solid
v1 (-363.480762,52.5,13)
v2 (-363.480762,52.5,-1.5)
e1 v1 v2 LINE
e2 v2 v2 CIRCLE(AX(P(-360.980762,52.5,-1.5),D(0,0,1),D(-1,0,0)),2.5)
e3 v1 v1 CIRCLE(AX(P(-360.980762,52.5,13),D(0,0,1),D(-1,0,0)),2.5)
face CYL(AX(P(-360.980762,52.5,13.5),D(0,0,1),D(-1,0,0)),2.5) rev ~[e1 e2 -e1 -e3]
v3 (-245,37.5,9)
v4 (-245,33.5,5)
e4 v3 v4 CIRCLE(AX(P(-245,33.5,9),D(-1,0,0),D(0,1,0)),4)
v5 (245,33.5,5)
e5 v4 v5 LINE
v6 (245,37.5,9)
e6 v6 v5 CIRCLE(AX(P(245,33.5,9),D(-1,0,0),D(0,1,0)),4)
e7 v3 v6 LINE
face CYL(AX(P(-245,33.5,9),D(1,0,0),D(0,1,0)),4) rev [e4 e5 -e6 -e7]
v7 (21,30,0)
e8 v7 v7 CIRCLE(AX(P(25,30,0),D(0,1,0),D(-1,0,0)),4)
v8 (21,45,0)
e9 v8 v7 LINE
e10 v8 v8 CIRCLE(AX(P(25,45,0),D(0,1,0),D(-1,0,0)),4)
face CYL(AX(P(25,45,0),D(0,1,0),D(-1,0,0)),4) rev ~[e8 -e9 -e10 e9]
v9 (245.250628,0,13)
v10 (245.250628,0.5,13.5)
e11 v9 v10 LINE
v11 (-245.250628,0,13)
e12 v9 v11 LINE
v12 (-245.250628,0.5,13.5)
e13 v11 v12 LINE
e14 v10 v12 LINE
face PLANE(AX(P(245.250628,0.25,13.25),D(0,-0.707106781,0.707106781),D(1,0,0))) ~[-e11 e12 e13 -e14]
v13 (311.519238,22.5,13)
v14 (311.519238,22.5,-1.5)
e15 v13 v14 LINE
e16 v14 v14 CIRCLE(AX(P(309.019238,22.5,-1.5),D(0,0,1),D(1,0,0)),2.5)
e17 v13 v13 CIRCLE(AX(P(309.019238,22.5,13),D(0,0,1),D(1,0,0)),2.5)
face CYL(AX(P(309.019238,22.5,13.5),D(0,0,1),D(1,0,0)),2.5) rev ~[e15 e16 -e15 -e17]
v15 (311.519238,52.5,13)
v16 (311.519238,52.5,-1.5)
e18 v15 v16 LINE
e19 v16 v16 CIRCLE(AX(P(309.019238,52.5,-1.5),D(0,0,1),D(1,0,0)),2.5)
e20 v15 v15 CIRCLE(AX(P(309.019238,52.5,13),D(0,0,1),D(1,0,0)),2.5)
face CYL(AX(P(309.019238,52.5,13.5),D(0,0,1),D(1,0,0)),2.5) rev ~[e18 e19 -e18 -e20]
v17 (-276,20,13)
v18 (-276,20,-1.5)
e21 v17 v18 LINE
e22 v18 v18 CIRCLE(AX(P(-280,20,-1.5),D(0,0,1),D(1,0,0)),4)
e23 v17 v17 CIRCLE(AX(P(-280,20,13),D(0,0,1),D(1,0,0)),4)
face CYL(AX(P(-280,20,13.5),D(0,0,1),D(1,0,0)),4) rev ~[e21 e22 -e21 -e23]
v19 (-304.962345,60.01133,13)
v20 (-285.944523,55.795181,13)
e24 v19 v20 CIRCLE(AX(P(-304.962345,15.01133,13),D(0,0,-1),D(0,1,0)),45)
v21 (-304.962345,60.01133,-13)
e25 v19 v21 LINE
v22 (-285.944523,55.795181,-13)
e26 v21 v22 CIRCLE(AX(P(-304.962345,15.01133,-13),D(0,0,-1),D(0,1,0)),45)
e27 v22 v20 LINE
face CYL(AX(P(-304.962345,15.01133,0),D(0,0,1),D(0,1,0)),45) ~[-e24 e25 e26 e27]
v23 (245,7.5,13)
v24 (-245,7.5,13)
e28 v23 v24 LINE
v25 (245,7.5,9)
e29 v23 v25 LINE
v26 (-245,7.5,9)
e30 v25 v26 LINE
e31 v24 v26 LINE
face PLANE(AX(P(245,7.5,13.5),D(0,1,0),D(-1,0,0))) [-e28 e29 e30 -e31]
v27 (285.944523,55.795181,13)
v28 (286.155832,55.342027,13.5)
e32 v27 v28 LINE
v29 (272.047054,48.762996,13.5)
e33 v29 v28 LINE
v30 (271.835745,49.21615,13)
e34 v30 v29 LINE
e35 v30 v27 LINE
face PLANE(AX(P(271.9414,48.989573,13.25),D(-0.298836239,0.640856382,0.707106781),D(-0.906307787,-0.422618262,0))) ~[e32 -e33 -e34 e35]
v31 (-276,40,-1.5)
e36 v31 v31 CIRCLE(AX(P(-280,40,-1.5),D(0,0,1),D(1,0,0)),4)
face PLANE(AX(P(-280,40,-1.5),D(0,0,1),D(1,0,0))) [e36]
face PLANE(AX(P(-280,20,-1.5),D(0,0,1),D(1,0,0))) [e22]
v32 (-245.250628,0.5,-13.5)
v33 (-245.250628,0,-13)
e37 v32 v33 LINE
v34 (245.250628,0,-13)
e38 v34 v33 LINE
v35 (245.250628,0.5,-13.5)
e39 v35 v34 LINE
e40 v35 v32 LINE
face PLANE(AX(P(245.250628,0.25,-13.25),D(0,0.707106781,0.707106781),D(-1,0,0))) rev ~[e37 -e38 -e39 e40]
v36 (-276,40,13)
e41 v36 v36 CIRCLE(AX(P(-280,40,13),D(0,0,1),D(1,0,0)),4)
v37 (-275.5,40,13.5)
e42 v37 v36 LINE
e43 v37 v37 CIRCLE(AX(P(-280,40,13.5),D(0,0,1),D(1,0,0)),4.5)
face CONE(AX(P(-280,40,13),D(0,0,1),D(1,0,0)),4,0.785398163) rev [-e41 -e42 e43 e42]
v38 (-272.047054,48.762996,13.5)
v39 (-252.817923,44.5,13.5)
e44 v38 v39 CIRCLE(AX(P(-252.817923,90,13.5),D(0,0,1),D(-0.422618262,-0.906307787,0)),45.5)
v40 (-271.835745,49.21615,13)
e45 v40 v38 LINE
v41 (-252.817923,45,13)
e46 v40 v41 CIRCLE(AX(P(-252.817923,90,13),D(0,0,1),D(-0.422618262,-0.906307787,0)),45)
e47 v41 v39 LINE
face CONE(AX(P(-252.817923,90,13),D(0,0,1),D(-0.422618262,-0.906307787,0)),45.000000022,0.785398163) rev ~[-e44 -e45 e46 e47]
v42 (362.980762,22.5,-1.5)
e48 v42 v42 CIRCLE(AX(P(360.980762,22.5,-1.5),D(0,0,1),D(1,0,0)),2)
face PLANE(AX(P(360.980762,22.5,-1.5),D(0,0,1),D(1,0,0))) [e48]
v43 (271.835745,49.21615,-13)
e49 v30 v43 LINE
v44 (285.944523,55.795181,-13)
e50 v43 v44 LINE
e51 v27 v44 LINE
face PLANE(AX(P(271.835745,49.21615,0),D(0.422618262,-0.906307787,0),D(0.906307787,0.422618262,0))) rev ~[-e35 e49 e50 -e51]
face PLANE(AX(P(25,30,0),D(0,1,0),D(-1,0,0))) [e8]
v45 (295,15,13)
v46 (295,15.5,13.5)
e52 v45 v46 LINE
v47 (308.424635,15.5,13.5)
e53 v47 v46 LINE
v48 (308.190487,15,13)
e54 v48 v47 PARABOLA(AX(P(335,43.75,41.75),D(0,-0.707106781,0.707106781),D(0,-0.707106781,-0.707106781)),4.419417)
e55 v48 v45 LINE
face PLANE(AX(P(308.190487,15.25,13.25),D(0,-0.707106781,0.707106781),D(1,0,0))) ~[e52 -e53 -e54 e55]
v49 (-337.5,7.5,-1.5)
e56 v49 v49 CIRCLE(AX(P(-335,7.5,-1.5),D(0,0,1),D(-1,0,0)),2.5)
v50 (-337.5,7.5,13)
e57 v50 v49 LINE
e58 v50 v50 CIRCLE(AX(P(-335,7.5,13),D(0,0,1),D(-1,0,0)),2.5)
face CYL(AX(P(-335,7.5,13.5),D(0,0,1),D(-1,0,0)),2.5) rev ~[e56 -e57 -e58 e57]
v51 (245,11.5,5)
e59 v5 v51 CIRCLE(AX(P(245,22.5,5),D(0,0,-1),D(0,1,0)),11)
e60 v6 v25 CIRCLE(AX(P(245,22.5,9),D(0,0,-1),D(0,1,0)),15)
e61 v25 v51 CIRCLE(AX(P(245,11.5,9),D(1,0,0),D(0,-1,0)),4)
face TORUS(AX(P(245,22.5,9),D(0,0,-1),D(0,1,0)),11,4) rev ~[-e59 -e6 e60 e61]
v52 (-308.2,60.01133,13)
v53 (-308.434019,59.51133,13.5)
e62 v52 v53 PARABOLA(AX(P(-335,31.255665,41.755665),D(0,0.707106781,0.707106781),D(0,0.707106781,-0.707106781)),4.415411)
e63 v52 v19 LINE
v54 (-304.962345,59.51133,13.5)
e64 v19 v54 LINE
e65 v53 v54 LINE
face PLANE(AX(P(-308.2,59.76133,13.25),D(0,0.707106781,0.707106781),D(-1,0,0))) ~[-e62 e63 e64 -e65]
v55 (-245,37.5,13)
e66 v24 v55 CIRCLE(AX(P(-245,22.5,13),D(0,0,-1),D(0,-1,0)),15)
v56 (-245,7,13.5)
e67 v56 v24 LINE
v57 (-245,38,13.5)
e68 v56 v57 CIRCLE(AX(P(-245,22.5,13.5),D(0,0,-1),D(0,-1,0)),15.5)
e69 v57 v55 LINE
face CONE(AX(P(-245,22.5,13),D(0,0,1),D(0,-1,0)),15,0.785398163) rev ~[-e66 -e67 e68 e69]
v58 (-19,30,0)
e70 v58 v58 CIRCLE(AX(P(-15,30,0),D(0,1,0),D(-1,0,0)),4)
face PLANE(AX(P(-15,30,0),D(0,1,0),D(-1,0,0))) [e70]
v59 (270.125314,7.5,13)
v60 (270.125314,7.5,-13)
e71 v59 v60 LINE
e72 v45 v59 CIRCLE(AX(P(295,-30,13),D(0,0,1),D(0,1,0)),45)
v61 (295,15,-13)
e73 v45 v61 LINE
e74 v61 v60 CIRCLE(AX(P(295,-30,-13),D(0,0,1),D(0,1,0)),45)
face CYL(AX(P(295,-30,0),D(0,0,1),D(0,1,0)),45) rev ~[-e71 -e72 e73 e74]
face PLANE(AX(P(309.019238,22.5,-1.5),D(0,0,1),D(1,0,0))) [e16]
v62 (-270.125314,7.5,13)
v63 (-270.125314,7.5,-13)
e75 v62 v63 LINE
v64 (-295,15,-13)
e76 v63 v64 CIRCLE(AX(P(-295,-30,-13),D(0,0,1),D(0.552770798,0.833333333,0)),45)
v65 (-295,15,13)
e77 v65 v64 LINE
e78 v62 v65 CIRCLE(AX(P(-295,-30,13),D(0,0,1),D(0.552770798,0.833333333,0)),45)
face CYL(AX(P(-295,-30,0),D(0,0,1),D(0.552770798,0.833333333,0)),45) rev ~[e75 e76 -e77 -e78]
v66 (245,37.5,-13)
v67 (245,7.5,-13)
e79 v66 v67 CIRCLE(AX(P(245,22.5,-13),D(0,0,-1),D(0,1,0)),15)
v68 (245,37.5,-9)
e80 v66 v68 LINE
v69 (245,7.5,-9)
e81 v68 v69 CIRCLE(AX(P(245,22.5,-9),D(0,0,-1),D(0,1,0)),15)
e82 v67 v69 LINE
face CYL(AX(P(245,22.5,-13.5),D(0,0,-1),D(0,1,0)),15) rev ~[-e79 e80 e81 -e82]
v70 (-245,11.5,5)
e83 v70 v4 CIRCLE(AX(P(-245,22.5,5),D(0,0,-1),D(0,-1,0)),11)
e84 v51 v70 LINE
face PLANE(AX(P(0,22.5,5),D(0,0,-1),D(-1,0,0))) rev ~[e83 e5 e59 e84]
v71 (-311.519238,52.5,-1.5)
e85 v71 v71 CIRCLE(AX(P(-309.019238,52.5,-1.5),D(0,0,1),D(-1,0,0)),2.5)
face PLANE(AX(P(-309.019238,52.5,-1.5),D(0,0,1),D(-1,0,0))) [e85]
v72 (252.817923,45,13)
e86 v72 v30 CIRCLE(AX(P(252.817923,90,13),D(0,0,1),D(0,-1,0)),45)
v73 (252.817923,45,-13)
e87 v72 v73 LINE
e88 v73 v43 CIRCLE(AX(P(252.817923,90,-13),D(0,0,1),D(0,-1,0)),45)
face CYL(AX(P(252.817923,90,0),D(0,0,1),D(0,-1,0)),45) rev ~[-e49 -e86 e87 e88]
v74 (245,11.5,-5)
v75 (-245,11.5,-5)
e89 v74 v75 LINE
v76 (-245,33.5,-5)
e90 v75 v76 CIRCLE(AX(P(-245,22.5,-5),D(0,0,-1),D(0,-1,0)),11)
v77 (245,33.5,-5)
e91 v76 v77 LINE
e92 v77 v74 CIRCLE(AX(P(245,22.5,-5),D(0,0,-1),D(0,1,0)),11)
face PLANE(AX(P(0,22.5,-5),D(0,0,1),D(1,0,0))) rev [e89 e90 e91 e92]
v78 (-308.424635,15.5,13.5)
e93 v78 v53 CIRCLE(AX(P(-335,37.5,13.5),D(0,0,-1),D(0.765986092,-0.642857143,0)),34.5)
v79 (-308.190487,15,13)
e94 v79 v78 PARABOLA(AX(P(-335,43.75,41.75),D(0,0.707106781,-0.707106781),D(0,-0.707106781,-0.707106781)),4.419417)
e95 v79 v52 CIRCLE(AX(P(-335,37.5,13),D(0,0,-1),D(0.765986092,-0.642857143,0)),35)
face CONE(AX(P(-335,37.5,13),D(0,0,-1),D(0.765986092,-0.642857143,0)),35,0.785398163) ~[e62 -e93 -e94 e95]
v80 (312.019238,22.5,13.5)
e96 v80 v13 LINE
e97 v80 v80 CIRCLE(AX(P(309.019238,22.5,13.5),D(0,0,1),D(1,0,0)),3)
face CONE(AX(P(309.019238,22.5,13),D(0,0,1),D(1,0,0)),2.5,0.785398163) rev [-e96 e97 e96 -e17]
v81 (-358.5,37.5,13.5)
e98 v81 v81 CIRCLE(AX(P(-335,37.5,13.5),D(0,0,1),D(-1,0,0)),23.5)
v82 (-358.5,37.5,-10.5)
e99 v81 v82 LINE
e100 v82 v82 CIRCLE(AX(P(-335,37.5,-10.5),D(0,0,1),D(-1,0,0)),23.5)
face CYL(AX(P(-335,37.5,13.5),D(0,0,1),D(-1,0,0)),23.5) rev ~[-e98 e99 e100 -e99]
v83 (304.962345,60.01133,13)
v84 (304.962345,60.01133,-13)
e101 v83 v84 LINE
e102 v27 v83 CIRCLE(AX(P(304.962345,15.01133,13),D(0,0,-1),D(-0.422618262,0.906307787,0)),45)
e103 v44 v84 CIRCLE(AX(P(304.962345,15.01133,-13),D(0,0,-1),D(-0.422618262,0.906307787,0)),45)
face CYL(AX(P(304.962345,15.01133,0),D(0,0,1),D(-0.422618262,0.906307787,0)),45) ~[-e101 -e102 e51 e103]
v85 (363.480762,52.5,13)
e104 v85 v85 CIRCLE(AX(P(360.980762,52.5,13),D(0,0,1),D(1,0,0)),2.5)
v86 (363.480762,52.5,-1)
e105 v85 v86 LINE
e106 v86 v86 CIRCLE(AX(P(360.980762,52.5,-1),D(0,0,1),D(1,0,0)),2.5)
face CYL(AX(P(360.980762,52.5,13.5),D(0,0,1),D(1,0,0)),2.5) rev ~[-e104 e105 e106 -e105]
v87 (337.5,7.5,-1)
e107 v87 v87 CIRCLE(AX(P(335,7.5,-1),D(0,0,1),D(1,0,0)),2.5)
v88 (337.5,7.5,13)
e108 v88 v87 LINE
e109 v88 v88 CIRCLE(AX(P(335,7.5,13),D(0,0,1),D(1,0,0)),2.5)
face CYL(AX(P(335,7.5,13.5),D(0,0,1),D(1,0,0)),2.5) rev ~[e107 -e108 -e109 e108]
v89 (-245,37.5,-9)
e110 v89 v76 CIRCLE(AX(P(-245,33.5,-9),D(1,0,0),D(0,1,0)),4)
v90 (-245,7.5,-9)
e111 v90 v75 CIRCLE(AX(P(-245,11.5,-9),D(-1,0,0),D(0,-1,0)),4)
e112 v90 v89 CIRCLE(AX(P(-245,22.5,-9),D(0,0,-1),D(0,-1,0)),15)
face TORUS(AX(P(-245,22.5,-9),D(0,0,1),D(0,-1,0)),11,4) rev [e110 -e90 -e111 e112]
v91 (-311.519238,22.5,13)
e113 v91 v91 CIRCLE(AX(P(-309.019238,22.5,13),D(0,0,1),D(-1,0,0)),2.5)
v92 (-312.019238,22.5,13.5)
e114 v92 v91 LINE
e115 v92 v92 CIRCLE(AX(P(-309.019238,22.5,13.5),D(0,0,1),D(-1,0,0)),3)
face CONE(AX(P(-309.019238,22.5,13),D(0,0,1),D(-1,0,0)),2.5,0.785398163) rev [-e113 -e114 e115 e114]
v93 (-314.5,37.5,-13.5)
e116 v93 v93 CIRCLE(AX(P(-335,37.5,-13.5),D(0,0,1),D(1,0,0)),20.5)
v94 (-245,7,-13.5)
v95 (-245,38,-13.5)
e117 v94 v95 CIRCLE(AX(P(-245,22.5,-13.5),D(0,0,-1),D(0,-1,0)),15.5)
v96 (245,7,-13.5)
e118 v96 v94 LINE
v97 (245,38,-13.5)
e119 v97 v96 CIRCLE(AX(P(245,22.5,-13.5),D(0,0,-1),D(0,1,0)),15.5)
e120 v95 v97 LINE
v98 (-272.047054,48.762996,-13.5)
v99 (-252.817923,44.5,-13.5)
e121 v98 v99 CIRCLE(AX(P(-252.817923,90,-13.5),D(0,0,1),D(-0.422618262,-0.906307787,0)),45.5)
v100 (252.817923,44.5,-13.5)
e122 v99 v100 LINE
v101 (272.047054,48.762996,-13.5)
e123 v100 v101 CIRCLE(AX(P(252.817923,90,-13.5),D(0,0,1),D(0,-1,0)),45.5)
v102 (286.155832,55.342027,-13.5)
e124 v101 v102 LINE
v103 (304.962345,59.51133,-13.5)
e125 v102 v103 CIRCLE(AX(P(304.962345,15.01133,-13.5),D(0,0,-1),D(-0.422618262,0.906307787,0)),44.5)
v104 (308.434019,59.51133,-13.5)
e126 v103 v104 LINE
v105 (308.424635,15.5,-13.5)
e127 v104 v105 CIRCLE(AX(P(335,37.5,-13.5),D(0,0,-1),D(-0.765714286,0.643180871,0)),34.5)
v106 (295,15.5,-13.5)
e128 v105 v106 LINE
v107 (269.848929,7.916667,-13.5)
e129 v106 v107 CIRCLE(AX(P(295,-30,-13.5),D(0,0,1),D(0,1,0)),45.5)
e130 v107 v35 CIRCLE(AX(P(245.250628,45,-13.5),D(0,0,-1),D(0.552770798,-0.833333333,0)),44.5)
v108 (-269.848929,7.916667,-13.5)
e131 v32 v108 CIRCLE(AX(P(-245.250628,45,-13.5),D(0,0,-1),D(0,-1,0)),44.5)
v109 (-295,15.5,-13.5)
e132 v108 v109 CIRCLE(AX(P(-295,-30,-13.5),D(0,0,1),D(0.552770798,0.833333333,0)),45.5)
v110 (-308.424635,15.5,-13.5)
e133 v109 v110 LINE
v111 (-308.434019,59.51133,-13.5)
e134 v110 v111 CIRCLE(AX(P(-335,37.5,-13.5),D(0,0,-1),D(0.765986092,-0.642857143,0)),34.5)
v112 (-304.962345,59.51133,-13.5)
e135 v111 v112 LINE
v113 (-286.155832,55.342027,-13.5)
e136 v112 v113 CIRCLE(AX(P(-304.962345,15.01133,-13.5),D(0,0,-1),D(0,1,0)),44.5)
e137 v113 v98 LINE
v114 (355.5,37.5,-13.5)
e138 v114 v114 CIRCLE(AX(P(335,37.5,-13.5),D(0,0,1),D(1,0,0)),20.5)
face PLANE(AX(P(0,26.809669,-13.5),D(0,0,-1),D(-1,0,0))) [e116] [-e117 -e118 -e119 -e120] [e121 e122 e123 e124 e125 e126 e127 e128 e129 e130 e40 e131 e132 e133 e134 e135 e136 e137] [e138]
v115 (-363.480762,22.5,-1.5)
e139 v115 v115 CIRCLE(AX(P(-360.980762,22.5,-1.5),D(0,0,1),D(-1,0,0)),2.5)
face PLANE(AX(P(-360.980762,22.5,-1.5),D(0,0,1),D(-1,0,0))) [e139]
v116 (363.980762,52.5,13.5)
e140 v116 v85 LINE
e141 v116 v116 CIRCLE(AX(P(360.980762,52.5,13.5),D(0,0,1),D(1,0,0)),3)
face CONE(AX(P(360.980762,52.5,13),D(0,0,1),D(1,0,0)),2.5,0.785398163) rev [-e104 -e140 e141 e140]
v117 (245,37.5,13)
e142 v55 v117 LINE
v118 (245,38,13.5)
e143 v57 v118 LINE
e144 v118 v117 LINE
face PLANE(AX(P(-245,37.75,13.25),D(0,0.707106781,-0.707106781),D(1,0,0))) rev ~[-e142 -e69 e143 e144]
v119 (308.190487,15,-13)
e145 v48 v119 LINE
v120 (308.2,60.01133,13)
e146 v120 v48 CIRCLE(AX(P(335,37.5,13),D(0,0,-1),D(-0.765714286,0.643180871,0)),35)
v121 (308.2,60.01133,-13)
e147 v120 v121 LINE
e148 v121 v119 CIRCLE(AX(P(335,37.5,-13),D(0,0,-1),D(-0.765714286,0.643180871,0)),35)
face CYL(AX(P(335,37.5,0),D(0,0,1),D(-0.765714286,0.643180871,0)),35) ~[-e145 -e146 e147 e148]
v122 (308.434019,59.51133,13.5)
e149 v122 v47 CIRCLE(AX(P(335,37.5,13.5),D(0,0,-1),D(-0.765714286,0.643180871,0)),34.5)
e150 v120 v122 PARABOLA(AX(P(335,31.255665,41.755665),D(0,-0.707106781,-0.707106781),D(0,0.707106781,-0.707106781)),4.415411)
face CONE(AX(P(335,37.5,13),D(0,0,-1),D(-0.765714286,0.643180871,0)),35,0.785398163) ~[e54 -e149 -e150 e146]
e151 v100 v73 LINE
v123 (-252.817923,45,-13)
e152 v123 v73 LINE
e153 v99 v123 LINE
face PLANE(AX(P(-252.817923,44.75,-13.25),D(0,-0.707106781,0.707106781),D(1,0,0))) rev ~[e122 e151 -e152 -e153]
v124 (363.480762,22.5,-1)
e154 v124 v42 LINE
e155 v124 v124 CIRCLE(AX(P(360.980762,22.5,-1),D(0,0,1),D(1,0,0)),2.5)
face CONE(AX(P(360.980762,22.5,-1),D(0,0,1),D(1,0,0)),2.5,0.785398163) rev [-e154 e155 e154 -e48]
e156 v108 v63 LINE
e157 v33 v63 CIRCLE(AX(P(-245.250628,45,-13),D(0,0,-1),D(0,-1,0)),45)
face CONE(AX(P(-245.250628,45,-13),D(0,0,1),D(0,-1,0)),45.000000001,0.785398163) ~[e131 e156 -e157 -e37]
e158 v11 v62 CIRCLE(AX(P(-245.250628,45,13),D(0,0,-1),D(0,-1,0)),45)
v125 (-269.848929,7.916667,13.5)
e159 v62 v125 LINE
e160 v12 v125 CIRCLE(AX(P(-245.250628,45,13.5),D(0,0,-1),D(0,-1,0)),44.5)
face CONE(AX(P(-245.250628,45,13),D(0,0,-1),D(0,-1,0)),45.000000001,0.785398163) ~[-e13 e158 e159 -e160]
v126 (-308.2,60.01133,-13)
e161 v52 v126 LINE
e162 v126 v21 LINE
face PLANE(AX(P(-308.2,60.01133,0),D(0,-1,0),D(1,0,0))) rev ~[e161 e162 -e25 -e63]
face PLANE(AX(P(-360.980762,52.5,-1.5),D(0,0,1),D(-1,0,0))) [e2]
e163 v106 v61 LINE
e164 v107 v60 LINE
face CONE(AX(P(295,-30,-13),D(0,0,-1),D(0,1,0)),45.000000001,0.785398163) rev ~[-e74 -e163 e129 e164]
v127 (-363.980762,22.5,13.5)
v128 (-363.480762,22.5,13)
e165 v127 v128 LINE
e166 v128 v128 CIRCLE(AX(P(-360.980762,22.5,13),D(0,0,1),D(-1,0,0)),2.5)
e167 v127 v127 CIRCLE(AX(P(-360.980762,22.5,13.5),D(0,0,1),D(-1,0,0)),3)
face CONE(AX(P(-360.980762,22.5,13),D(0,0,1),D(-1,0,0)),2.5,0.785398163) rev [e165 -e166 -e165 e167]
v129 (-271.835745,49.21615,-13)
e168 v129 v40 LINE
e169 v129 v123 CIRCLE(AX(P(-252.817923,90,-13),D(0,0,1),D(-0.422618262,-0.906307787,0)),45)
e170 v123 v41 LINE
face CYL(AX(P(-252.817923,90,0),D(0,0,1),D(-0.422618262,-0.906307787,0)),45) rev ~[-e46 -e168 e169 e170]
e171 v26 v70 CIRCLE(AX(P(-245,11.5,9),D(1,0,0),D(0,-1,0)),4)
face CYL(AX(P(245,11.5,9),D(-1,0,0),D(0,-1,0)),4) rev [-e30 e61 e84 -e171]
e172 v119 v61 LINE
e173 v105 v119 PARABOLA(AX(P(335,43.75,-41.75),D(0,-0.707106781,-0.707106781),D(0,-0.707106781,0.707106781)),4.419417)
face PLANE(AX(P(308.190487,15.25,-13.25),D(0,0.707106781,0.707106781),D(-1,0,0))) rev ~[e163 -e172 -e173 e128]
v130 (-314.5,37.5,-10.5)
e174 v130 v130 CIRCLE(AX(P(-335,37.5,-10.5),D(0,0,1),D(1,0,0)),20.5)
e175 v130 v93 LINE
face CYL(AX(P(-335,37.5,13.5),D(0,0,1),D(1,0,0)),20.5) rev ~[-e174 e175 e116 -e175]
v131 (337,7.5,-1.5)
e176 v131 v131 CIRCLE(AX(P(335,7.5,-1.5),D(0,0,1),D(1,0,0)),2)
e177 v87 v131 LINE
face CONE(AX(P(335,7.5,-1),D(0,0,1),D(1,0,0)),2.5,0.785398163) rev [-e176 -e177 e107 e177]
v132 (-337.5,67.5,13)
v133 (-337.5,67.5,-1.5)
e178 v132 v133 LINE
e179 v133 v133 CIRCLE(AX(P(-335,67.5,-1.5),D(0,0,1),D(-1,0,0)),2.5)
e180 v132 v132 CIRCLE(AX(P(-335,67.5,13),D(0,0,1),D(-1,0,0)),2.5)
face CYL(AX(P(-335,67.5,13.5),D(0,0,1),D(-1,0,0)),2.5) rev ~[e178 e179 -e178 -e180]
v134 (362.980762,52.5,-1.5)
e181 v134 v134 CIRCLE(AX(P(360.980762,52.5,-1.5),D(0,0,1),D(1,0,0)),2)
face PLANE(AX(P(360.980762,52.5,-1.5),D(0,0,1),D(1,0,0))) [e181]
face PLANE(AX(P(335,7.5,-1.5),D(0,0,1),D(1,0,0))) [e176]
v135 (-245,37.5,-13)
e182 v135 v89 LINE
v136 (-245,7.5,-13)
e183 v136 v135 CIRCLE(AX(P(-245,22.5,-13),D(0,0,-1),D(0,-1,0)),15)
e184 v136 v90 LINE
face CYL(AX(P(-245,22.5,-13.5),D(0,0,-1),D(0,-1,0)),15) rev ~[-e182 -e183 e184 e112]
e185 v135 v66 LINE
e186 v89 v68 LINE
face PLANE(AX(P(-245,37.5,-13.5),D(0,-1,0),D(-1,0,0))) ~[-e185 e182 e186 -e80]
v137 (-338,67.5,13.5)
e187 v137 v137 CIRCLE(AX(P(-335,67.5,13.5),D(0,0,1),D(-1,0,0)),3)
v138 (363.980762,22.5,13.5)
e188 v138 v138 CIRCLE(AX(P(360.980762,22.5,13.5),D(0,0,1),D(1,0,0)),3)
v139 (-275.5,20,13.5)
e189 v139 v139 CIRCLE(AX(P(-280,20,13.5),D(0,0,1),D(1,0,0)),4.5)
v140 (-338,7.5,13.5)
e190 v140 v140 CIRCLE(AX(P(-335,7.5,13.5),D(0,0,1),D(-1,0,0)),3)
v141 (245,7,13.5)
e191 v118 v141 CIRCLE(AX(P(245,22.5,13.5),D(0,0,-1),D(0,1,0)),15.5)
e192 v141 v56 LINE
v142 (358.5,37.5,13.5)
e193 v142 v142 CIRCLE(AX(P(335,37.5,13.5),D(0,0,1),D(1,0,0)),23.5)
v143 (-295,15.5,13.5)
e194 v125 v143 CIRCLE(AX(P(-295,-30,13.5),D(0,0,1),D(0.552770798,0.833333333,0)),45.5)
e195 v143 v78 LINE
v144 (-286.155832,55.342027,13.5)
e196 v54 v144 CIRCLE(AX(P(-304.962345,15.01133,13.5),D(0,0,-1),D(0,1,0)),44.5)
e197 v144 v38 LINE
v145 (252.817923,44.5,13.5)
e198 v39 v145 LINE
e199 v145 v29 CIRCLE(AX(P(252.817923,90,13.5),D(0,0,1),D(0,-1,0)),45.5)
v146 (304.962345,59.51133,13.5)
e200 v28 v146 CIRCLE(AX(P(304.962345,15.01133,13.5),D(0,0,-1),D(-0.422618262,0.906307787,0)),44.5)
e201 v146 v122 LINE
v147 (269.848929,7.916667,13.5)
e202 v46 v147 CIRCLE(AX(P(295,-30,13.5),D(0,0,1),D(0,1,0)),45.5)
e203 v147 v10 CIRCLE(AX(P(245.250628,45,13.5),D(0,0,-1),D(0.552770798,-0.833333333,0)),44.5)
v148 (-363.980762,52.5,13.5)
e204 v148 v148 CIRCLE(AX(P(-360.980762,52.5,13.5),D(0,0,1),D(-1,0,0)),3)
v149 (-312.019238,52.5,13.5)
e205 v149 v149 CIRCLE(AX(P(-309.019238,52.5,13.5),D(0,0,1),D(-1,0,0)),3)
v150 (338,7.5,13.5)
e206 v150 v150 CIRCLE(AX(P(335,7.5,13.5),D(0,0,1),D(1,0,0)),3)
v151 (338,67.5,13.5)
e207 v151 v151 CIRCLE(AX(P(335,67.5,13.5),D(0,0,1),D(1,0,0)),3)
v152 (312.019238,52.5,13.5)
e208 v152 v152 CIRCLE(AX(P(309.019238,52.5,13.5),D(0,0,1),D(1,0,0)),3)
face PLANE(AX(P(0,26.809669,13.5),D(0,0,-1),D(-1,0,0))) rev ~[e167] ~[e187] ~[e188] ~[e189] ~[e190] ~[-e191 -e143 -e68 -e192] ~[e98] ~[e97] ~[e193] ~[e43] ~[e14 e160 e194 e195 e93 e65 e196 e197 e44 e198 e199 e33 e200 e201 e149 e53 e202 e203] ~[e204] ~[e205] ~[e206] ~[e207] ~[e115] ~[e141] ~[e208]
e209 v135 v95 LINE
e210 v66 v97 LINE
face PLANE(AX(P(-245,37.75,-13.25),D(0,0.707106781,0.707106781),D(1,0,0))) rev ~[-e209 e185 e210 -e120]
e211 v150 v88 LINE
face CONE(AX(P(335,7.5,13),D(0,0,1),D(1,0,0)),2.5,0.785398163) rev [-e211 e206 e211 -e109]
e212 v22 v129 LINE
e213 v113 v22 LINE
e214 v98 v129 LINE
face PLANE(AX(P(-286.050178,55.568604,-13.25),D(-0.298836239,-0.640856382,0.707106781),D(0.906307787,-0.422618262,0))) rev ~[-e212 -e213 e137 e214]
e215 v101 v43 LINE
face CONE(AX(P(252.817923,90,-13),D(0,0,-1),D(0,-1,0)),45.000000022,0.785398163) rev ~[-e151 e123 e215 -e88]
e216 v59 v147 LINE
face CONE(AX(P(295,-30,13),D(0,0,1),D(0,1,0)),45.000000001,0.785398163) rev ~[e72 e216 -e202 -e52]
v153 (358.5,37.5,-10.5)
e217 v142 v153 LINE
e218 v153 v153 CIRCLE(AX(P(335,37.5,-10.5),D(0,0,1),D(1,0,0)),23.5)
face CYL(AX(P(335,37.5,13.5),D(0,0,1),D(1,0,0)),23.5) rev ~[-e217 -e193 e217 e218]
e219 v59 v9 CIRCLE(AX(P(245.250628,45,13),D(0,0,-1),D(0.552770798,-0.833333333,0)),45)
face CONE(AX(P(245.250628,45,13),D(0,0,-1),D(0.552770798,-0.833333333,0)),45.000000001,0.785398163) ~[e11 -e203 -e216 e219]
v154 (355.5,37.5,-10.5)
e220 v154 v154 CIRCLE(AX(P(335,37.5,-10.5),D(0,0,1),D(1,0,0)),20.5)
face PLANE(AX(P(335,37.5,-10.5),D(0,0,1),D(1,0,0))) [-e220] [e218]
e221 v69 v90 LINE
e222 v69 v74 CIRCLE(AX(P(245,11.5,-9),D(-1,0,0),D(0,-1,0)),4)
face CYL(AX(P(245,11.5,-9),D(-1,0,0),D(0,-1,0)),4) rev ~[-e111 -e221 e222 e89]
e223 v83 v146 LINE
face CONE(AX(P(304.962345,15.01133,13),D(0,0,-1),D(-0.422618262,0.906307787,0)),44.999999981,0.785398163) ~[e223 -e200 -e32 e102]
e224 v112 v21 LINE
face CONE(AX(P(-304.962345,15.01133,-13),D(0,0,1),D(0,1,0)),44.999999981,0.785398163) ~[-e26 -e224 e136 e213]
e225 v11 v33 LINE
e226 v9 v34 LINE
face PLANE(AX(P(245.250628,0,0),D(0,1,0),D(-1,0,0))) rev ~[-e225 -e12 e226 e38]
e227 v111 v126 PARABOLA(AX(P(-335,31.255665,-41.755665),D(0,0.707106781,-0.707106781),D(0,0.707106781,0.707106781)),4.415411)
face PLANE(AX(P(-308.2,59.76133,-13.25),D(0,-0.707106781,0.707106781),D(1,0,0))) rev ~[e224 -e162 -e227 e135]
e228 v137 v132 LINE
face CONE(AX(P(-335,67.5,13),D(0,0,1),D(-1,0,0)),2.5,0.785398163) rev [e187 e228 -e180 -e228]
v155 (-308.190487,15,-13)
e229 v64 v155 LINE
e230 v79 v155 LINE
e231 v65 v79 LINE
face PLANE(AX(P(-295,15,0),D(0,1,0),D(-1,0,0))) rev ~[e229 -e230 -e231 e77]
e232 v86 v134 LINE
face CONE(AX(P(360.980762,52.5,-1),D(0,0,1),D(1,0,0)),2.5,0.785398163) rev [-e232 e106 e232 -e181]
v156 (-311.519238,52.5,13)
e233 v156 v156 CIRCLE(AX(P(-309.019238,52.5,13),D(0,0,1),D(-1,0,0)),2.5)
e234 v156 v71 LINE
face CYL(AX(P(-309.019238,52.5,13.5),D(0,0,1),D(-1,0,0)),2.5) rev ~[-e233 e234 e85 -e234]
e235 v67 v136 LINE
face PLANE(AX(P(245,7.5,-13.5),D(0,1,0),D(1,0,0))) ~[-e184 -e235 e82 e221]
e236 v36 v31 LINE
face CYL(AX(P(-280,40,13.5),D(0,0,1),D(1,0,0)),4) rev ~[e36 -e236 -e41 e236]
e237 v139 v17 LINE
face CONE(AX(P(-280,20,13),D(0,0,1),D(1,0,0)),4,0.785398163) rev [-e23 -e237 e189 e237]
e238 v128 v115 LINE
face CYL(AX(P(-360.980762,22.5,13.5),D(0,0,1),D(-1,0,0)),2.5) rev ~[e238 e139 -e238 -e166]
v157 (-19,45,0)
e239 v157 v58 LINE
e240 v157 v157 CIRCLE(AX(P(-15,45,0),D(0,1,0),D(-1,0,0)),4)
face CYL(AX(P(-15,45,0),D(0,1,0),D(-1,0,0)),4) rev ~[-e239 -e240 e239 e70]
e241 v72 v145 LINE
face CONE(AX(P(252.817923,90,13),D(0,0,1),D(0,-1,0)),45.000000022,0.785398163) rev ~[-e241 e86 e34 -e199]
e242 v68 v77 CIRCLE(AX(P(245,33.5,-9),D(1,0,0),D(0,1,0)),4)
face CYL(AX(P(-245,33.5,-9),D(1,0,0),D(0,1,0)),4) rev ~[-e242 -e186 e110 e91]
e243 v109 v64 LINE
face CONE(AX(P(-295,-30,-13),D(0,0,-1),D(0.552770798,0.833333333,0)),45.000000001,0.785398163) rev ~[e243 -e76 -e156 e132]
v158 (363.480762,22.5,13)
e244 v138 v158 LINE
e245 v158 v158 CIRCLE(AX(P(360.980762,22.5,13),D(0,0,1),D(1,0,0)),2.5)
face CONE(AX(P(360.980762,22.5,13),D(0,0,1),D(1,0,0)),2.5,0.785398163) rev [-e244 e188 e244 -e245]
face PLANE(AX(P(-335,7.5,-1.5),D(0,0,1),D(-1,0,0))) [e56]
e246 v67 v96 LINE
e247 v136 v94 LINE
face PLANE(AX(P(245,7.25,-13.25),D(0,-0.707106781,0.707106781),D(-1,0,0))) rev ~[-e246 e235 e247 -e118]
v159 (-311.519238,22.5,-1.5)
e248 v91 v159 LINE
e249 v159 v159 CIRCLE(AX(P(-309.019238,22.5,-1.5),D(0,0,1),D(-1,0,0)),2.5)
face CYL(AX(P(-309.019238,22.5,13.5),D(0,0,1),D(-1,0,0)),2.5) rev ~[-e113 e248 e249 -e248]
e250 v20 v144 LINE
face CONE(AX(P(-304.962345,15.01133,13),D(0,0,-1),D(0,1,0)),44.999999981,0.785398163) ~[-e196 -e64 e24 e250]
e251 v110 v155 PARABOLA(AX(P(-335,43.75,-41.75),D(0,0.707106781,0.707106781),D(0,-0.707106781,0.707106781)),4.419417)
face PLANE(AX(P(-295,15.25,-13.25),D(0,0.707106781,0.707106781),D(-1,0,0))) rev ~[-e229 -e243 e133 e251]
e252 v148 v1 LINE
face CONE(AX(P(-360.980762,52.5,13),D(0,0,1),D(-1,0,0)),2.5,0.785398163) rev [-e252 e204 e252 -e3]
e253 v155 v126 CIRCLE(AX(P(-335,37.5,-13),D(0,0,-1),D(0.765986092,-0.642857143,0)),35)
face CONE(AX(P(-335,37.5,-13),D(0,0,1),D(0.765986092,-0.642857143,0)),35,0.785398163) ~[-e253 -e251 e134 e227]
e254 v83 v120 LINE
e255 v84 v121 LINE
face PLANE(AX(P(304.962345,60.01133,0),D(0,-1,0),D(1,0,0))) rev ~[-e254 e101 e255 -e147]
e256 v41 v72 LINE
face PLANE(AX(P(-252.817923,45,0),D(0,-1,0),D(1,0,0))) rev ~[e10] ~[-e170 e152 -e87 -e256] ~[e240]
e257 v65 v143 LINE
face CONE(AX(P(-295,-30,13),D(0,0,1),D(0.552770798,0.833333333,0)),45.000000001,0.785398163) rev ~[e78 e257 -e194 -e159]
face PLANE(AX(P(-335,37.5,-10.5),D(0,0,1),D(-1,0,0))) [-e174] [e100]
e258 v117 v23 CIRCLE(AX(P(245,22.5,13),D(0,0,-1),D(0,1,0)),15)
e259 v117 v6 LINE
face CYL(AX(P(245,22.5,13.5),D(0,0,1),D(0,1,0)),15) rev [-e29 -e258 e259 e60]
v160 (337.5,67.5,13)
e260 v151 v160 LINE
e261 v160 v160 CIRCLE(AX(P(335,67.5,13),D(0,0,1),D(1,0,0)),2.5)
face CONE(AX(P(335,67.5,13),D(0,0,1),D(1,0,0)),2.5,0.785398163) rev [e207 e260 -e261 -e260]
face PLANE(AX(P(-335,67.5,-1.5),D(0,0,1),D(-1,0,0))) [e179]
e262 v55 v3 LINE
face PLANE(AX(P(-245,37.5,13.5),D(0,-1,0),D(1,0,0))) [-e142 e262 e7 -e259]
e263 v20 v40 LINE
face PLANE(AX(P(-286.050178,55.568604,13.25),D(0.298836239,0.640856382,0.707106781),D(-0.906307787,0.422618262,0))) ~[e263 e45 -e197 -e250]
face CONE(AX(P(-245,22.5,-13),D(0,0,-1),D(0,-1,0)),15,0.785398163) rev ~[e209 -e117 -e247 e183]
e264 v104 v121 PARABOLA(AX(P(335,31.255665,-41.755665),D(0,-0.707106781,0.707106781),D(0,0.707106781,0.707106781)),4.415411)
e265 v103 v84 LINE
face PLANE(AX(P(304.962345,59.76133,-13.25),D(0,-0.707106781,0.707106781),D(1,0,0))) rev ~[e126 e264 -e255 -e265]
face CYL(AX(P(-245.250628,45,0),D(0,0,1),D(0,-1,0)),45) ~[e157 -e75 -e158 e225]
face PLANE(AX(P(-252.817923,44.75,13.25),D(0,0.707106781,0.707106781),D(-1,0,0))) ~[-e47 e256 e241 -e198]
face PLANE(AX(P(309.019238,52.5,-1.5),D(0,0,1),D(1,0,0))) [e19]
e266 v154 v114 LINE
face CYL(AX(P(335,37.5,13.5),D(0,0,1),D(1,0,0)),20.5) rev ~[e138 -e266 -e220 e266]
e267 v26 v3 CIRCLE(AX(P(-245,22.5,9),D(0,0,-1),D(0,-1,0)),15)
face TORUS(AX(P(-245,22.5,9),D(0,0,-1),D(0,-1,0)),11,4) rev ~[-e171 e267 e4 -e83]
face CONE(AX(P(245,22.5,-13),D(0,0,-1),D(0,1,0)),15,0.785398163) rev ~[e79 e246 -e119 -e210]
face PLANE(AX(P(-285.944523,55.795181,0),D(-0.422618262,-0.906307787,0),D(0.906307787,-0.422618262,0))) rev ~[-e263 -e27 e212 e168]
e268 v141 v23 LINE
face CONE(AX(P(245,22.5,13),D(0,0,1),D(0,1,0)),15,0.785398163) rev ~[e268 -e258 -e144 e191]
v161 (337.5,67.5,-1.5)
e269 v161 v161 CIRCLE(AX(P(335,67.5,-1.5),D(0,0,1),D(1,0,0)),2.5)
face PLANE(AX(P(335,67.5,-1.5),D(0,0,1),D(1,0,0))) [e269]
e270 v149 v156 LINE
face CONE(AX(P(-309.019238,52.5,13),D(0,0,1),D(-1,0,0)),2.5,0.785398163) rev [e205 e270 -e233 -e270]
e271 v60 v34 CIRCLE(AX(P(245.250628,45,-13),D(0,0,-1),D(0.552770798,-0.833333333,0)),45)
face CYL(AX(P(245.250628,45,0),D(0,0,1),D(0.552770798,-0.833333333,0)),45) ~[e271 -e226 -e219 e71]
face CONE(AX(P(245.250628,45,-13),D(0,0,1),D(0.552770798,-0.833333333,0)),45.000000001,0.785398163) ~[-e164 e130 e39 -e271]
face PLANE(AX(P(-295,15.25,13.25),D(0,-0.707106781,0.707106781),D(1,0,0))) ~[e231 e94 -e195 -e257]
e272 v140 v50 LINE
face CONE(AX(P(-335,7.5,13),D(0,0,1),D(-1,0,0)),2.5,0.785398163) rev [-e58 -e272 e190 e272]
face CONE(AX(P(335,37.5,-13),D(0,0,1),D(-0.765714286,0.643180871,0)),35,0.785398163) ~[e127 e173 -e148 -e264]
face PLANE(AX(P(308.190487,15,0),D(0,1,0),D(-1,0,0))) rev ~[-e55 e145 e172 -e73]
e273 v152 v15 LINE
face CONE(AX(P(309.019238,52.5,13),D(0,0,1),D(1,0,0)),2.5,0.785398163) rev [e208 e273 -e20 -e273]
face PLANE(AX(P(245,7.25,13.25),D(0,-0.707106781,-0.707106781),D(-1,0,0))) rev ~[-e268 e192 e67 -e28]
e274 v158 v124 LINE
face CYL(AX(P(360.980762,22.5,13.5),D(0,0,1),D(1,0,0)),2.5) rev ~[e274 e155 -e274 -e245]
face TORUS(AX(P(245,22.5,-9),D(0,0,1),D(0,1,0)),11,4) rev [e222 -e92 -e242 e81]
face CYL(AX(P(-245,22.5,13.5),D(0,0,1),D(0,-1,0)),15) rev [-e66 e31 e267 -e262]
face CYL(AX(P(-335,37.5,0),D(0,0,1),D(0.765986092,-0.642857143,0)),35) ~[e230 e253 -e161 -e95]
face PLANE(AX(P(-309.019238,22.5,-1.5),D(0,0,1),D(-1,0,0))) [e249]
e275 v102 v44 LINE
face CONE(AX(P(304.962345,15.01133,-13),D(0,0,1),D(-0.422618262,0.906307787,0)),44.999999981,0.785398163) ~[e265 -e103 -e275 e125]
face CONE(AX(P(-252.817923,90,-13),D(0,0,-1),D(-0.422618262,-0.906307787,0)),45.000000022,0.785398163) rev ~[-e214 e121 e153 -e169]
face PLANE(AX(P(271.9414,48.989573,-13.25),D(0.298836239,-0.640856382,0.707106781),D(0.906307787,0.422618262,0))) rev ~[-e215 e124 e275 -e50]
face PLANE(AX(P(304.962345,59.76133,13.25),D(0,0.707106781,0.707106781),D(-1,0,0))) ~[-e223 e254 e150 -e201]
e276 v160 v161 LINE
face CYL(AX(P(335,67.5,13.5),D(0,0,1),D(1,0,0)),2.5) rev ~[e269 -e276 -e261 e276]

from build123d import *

# Parameters (mm, degrees)
EXTRUDE_1_DEPTH     = 13.5
CUT_EXTRUDE_1_DEPTH = 8.5
SKETCH_3_R          = 4
CUT_EXTRUDE_2_DEPTH = 15
SKETCH_6_R          = 23.5
CUT_EXTRUDE_3_DEPTH = 24
SKETCH_6_3_R        = 2.5
CUT_EXTRUDE_4_DEPTH = 15
SKETCH_6_4_R        = 20.5
CUT_EXTRUDE_5_DEPTH = 379.001653436
FILLET_1_R          = 4
SKETCH_7_R          = 4
CUT_EXTRUDE_6_DEPTH = 15
CHAMFER_1_SIZE      = 0.5


with BuildPart() as part:
    # 草图1 → 凸台-拉伸1 (new, symmetric)
    with BuildSketch(Plane.XY):
        with BuildLine():
            Line((-252.817923204, 45), (252.817923204, 45))
            ThreePointArc((252.817923204, 45), (262.557705831, 46.06667968), (271.835744982, 49.216149583))
            Line((271.835744982, 49.216149583), (285.944523165, 55.795180897))
            ThreePointArc((285.944523165, 55.795180897), (295.222562316, 58.944650801), (304.962344943, 60.01133048))
            Line((304.962344943, 60.01133048), (308.2, 60.01133048))
            ThreePointArc((308.2, 60.01133048), (369.999999218, 37.492602678), (308.190486763, 15))
            Line((308.190486763, 15), (295, 15))
            ThreePointArc((295, 15), (282.009618943, 13.084219849), (270.125314072, 7.5))
            ThreePointArc((270.125314072, 7.5), (258.241009201, 1.915780151), (245.250628145, 0))
            Line((245.250628145, 0), (-245.250628145, 0))
            ThreePointArc((-245.250628145, 0), (-258.241009201, 1.915780151), (-270.125314072, 7.5))
            ThreePointArc((-270.125314072, 7.5), (-282.009618943, 13.084219849), (-295, 15))
            Line((-295, 15), (-308.190486763, 15))
            ThreePointArc((-308.190486763, 15), (-369.999999218, 37.492602678), (-308.2, 60.01133048))
            Line((-308.2, 60.01133048), (-304.962344943, 60.01133048))
            ThreePointArc((-304.962344943, 60.01133048), (-295.222562316, 58.944650801), (-285.944523165, 55.795180897))
            Line((-285.944523165, 55.795180897), (-271.835744982, 49.216149583))
            ThreePointArc((-271.835744982, 49.216149583), (-262.557705831, 46.06667968), (-252.817923204, 45))
        make_face()
    extrude(amount=EXTRUDE_1_DEPTH, both=True)

    # 草图2 → 切除-拉伸1 (cut)
    with BuildSketch(Plane.XY.offset(13.5)):
        with BuildLine():
            Line((-245, 37.5), (245, 37.5))
            ThreePointArc((245, 37.5), (260, 22.5), (245, 7.5))
            Line((245, 7.5), (-245, 7.5))
            ThreePointArc((-245, 7.5), (-260, 22.5), (-245, 37.5))
        make_face()
    cut_extrude_1 = extrude(amount=-CUT_EXTRUDE_1_DEPTH, mode=Mode.SUBTRACT)

    # 镜向1: 切除-拉伸1 across plane
    add(cut_extrude_1.mirror(Plane.XY), mode=Mode.SUBTRACT)

    # 草图3 → 切除-拉伸2 (cut)
    with BuildSketch(Plane(origin=(0, 45, 0), x_dir=(1, 0, 0), z_dir=(0, 1, 0))):
        with Locations((-15, 0)):
            Circle(SKETCH_3_R)
        with Locations((25, 0)):
            Circle(SKETCH_3_R)
    extrude(amount=-CUT_EXTRUDE_2_DEPTH, mode=Mode.SUBTRACT)

    # 草图6 → 切除-拉伸3 (cut)
    with BuildSketch(Plane.XY.offset(13.5)):
        with Locations((335, 37.5)):
            Circle(SKETCH_6_R)
        with Locations((-335, 37.5)):
            Circle(SKETCH_6_R)
    extrude(amount=-CUT_EXTRUDE_3_DEPTH, mode=Mode.SUBTRACT)

    # 草图6<3> → 切除-拉伸4 (cut)
    with BuildSketch(Plane.XY.offset(13.5)):
        with Locations((335, 67.5)):
            Circle(SKETCH_6_3_R)
        with Locations((360.980762114, 52.5)):
            Circle(SKETCH_6_3_R)
        with Locations((360.980762114, 22.5)):
            Circle(SKETCH_6_3_R)
        with Locations((335, 7.5)):
            Circle(SKETCH_6_3_R)
        with Locations((309.019237886, 22.5)):
            Circle(SKETCH_6_3_R)
        with Locations((309.019237886, 52.5)):
            Circle(SKETCH_6_3_R)
        with Locations((-309.019237886, 52.5)):
            Circle(SKETCH_6_3_R)
        with Locations((-309.019237886, 22.5)):
            Circle(SKETCH_6_3_R)
        with Locations((-335, 7.5)):
            Circle(SKETCH_6_3_R)
        with Locations((-360.980762114, 22.5)):
            Circle(SKETCH_6_3_R)
        with Locations((-360.980762114, 52.5)):
            Circle(SKETCH_6_3_R)
        with Locations((-335, 67.5)):
            Circle(SKETCH_6_3_R)
    extrude(amount=-CUT_EXTRUDE_4_DEPTH, mode=Mode.SUBTRACT)

    # 草图6<4> → 切除-拉伸5 (cut, through all)
    with BuildSketch(Plane.XY.offset(13.5)):
        with Locations((335, 37.5)):
            Circle(SKETCH_6_4_R)
        with Locations((-335, 37.5)):
            Circle(SKETCH_6_4_R)
    extrude(amount=-CUT_EXTRUDE_5_DEPTH, mode=Mode.SUBTRACT)

    # 圆角1
    fillet_1_edges = [part.edges().sort_by_distance(p)[0] for p in [
        (260, 22.5, -5),
        (0, 7.5, -5),
        (-260, 22.5, -5),
        (-260, 22.5, 5),
        (0, 37.5, 5),
        (260, 22.5, 5),
        (0, 37.5, -5),
        (0, 7.5, 5),
    ]]
    fillet(fillet_1_edges, radius=FILLET_1_R)

    # 草图7 → 切除-拉伸6 (cut)
    with BuildSketch(Plane.XY.offset(13.5)):
        with Locations((-280, 40)):
            Circle(SKETCH_7_R)
        with Locations((-280, 20)):
            Circle(SKETCH_7_R)
    extrude(amount=-CUT_EXTRUDE_6_DEPTH, mode=Mode.SUBTRACT)

    # 倒角1
    chamfer_1_edges = [part.edges().sort_by_distance(p)[0] for p in [
        (0, 37.5, -13.5),
        (260, 22.5, -13.5),
        (0, 7.5, -13.5),
        (-260, 22.5, -13.5),
        (0, 45, -13.5),
        (-262.557705831, 46.06667968, -13.5),
        (-278.890134073, 52.50566524, -13.5),
        (-295.222562316, 58.944650801, -13.5),
        (-306.581172471, 60.01133048, -13.5),
        (-369.999999218, 37.492602678, -13.5),
        (-301.595243382, 15, -13.5),
        (-282.009618943, 13.084219849, -13.5),
        (-258.241009201, 1.915780151, -13.5),
        (0, 0, -13.5),
        (258.241009201, 1.915780151, -13.5),
        (282.009618943, 13.084219849, -13.5),
        (301.595243382, 15, -13.5),
        (369.999999218, 37.492602678, -13.5),
        (306.581172471, 60.01133048, -13.5),
        (295.222562316, 58.944650801, -13.5),
        (278.890134073, 52.50566524, -13.5),
        (262.557705831, 46.06667968, -13.5),
        (306.519237886, 22.5, 13.5),
        (306.519237886, 52.5, 13.5),
        (332.5, 67.5, 13.5),
        (332.5, 7.5, 13.5),
        (358.480762114, 22.5, 13.5),
        (358.480762114, 52.5, 13.5),
        (278.890134073, 52.50566524, 13.5),
        (295.222562316, 58.944650801, 13.5),
        (306.581172471, 60.01133048, 13.5),
        (369.999999218, 37.492602678, 13.5),
        (301.595243382, 15, 13.5),
        (282.009618943, 13.084219849, 13.5),
        (258.241009201, 1.915780151, 13.5),
        (0, 0, 13.5),
        (-258.241009201, 1.915780151, 13.5),
        (-282.009618943, 13.084219849, 13.5),
        (-301.595243382, 15, 13.5),
        (-369.999999218, 37.492602678, 13.5),
        (-306.581172471, 60.01133048, 13.5),
        (-295.222562316, 58.944650801, 13.5),
        (-278.890134073, 52.50566524, 13.5),
        (-262.557705831, 46.06667968, 13.5),
        (0, 45, 13.5),
        (262.557705831, 46.06667968, 13.5),
        (0, 7.5, 13.5),
        (260, 22.5, 13.5),
        (0, 37.5, 13.5),
        (-260, 22.5, 13.5),
        (-337.5, 7.5, 13.5),
        (-311.519237886, 22.5, 13.5),
        (-311.519237886, 52.5, 13.5),
        (-363.480762114, 22.5, 13.5),
        (-363.480762114, 52.5, 13.5),
        (-337.5, 67.5, 13.5),
        (-284, 20, 13.5),
        (-284, 40, 13.5),
        (332.5, 7.5, -1.5),
        (358.480762114, 22.5, -1.5),
        (358.480762114, 52.5, -1.5),
    ]]
    chamfer(chamfer_1_edges, length=CHAMFER_1_SIZE)


solid = part.part
